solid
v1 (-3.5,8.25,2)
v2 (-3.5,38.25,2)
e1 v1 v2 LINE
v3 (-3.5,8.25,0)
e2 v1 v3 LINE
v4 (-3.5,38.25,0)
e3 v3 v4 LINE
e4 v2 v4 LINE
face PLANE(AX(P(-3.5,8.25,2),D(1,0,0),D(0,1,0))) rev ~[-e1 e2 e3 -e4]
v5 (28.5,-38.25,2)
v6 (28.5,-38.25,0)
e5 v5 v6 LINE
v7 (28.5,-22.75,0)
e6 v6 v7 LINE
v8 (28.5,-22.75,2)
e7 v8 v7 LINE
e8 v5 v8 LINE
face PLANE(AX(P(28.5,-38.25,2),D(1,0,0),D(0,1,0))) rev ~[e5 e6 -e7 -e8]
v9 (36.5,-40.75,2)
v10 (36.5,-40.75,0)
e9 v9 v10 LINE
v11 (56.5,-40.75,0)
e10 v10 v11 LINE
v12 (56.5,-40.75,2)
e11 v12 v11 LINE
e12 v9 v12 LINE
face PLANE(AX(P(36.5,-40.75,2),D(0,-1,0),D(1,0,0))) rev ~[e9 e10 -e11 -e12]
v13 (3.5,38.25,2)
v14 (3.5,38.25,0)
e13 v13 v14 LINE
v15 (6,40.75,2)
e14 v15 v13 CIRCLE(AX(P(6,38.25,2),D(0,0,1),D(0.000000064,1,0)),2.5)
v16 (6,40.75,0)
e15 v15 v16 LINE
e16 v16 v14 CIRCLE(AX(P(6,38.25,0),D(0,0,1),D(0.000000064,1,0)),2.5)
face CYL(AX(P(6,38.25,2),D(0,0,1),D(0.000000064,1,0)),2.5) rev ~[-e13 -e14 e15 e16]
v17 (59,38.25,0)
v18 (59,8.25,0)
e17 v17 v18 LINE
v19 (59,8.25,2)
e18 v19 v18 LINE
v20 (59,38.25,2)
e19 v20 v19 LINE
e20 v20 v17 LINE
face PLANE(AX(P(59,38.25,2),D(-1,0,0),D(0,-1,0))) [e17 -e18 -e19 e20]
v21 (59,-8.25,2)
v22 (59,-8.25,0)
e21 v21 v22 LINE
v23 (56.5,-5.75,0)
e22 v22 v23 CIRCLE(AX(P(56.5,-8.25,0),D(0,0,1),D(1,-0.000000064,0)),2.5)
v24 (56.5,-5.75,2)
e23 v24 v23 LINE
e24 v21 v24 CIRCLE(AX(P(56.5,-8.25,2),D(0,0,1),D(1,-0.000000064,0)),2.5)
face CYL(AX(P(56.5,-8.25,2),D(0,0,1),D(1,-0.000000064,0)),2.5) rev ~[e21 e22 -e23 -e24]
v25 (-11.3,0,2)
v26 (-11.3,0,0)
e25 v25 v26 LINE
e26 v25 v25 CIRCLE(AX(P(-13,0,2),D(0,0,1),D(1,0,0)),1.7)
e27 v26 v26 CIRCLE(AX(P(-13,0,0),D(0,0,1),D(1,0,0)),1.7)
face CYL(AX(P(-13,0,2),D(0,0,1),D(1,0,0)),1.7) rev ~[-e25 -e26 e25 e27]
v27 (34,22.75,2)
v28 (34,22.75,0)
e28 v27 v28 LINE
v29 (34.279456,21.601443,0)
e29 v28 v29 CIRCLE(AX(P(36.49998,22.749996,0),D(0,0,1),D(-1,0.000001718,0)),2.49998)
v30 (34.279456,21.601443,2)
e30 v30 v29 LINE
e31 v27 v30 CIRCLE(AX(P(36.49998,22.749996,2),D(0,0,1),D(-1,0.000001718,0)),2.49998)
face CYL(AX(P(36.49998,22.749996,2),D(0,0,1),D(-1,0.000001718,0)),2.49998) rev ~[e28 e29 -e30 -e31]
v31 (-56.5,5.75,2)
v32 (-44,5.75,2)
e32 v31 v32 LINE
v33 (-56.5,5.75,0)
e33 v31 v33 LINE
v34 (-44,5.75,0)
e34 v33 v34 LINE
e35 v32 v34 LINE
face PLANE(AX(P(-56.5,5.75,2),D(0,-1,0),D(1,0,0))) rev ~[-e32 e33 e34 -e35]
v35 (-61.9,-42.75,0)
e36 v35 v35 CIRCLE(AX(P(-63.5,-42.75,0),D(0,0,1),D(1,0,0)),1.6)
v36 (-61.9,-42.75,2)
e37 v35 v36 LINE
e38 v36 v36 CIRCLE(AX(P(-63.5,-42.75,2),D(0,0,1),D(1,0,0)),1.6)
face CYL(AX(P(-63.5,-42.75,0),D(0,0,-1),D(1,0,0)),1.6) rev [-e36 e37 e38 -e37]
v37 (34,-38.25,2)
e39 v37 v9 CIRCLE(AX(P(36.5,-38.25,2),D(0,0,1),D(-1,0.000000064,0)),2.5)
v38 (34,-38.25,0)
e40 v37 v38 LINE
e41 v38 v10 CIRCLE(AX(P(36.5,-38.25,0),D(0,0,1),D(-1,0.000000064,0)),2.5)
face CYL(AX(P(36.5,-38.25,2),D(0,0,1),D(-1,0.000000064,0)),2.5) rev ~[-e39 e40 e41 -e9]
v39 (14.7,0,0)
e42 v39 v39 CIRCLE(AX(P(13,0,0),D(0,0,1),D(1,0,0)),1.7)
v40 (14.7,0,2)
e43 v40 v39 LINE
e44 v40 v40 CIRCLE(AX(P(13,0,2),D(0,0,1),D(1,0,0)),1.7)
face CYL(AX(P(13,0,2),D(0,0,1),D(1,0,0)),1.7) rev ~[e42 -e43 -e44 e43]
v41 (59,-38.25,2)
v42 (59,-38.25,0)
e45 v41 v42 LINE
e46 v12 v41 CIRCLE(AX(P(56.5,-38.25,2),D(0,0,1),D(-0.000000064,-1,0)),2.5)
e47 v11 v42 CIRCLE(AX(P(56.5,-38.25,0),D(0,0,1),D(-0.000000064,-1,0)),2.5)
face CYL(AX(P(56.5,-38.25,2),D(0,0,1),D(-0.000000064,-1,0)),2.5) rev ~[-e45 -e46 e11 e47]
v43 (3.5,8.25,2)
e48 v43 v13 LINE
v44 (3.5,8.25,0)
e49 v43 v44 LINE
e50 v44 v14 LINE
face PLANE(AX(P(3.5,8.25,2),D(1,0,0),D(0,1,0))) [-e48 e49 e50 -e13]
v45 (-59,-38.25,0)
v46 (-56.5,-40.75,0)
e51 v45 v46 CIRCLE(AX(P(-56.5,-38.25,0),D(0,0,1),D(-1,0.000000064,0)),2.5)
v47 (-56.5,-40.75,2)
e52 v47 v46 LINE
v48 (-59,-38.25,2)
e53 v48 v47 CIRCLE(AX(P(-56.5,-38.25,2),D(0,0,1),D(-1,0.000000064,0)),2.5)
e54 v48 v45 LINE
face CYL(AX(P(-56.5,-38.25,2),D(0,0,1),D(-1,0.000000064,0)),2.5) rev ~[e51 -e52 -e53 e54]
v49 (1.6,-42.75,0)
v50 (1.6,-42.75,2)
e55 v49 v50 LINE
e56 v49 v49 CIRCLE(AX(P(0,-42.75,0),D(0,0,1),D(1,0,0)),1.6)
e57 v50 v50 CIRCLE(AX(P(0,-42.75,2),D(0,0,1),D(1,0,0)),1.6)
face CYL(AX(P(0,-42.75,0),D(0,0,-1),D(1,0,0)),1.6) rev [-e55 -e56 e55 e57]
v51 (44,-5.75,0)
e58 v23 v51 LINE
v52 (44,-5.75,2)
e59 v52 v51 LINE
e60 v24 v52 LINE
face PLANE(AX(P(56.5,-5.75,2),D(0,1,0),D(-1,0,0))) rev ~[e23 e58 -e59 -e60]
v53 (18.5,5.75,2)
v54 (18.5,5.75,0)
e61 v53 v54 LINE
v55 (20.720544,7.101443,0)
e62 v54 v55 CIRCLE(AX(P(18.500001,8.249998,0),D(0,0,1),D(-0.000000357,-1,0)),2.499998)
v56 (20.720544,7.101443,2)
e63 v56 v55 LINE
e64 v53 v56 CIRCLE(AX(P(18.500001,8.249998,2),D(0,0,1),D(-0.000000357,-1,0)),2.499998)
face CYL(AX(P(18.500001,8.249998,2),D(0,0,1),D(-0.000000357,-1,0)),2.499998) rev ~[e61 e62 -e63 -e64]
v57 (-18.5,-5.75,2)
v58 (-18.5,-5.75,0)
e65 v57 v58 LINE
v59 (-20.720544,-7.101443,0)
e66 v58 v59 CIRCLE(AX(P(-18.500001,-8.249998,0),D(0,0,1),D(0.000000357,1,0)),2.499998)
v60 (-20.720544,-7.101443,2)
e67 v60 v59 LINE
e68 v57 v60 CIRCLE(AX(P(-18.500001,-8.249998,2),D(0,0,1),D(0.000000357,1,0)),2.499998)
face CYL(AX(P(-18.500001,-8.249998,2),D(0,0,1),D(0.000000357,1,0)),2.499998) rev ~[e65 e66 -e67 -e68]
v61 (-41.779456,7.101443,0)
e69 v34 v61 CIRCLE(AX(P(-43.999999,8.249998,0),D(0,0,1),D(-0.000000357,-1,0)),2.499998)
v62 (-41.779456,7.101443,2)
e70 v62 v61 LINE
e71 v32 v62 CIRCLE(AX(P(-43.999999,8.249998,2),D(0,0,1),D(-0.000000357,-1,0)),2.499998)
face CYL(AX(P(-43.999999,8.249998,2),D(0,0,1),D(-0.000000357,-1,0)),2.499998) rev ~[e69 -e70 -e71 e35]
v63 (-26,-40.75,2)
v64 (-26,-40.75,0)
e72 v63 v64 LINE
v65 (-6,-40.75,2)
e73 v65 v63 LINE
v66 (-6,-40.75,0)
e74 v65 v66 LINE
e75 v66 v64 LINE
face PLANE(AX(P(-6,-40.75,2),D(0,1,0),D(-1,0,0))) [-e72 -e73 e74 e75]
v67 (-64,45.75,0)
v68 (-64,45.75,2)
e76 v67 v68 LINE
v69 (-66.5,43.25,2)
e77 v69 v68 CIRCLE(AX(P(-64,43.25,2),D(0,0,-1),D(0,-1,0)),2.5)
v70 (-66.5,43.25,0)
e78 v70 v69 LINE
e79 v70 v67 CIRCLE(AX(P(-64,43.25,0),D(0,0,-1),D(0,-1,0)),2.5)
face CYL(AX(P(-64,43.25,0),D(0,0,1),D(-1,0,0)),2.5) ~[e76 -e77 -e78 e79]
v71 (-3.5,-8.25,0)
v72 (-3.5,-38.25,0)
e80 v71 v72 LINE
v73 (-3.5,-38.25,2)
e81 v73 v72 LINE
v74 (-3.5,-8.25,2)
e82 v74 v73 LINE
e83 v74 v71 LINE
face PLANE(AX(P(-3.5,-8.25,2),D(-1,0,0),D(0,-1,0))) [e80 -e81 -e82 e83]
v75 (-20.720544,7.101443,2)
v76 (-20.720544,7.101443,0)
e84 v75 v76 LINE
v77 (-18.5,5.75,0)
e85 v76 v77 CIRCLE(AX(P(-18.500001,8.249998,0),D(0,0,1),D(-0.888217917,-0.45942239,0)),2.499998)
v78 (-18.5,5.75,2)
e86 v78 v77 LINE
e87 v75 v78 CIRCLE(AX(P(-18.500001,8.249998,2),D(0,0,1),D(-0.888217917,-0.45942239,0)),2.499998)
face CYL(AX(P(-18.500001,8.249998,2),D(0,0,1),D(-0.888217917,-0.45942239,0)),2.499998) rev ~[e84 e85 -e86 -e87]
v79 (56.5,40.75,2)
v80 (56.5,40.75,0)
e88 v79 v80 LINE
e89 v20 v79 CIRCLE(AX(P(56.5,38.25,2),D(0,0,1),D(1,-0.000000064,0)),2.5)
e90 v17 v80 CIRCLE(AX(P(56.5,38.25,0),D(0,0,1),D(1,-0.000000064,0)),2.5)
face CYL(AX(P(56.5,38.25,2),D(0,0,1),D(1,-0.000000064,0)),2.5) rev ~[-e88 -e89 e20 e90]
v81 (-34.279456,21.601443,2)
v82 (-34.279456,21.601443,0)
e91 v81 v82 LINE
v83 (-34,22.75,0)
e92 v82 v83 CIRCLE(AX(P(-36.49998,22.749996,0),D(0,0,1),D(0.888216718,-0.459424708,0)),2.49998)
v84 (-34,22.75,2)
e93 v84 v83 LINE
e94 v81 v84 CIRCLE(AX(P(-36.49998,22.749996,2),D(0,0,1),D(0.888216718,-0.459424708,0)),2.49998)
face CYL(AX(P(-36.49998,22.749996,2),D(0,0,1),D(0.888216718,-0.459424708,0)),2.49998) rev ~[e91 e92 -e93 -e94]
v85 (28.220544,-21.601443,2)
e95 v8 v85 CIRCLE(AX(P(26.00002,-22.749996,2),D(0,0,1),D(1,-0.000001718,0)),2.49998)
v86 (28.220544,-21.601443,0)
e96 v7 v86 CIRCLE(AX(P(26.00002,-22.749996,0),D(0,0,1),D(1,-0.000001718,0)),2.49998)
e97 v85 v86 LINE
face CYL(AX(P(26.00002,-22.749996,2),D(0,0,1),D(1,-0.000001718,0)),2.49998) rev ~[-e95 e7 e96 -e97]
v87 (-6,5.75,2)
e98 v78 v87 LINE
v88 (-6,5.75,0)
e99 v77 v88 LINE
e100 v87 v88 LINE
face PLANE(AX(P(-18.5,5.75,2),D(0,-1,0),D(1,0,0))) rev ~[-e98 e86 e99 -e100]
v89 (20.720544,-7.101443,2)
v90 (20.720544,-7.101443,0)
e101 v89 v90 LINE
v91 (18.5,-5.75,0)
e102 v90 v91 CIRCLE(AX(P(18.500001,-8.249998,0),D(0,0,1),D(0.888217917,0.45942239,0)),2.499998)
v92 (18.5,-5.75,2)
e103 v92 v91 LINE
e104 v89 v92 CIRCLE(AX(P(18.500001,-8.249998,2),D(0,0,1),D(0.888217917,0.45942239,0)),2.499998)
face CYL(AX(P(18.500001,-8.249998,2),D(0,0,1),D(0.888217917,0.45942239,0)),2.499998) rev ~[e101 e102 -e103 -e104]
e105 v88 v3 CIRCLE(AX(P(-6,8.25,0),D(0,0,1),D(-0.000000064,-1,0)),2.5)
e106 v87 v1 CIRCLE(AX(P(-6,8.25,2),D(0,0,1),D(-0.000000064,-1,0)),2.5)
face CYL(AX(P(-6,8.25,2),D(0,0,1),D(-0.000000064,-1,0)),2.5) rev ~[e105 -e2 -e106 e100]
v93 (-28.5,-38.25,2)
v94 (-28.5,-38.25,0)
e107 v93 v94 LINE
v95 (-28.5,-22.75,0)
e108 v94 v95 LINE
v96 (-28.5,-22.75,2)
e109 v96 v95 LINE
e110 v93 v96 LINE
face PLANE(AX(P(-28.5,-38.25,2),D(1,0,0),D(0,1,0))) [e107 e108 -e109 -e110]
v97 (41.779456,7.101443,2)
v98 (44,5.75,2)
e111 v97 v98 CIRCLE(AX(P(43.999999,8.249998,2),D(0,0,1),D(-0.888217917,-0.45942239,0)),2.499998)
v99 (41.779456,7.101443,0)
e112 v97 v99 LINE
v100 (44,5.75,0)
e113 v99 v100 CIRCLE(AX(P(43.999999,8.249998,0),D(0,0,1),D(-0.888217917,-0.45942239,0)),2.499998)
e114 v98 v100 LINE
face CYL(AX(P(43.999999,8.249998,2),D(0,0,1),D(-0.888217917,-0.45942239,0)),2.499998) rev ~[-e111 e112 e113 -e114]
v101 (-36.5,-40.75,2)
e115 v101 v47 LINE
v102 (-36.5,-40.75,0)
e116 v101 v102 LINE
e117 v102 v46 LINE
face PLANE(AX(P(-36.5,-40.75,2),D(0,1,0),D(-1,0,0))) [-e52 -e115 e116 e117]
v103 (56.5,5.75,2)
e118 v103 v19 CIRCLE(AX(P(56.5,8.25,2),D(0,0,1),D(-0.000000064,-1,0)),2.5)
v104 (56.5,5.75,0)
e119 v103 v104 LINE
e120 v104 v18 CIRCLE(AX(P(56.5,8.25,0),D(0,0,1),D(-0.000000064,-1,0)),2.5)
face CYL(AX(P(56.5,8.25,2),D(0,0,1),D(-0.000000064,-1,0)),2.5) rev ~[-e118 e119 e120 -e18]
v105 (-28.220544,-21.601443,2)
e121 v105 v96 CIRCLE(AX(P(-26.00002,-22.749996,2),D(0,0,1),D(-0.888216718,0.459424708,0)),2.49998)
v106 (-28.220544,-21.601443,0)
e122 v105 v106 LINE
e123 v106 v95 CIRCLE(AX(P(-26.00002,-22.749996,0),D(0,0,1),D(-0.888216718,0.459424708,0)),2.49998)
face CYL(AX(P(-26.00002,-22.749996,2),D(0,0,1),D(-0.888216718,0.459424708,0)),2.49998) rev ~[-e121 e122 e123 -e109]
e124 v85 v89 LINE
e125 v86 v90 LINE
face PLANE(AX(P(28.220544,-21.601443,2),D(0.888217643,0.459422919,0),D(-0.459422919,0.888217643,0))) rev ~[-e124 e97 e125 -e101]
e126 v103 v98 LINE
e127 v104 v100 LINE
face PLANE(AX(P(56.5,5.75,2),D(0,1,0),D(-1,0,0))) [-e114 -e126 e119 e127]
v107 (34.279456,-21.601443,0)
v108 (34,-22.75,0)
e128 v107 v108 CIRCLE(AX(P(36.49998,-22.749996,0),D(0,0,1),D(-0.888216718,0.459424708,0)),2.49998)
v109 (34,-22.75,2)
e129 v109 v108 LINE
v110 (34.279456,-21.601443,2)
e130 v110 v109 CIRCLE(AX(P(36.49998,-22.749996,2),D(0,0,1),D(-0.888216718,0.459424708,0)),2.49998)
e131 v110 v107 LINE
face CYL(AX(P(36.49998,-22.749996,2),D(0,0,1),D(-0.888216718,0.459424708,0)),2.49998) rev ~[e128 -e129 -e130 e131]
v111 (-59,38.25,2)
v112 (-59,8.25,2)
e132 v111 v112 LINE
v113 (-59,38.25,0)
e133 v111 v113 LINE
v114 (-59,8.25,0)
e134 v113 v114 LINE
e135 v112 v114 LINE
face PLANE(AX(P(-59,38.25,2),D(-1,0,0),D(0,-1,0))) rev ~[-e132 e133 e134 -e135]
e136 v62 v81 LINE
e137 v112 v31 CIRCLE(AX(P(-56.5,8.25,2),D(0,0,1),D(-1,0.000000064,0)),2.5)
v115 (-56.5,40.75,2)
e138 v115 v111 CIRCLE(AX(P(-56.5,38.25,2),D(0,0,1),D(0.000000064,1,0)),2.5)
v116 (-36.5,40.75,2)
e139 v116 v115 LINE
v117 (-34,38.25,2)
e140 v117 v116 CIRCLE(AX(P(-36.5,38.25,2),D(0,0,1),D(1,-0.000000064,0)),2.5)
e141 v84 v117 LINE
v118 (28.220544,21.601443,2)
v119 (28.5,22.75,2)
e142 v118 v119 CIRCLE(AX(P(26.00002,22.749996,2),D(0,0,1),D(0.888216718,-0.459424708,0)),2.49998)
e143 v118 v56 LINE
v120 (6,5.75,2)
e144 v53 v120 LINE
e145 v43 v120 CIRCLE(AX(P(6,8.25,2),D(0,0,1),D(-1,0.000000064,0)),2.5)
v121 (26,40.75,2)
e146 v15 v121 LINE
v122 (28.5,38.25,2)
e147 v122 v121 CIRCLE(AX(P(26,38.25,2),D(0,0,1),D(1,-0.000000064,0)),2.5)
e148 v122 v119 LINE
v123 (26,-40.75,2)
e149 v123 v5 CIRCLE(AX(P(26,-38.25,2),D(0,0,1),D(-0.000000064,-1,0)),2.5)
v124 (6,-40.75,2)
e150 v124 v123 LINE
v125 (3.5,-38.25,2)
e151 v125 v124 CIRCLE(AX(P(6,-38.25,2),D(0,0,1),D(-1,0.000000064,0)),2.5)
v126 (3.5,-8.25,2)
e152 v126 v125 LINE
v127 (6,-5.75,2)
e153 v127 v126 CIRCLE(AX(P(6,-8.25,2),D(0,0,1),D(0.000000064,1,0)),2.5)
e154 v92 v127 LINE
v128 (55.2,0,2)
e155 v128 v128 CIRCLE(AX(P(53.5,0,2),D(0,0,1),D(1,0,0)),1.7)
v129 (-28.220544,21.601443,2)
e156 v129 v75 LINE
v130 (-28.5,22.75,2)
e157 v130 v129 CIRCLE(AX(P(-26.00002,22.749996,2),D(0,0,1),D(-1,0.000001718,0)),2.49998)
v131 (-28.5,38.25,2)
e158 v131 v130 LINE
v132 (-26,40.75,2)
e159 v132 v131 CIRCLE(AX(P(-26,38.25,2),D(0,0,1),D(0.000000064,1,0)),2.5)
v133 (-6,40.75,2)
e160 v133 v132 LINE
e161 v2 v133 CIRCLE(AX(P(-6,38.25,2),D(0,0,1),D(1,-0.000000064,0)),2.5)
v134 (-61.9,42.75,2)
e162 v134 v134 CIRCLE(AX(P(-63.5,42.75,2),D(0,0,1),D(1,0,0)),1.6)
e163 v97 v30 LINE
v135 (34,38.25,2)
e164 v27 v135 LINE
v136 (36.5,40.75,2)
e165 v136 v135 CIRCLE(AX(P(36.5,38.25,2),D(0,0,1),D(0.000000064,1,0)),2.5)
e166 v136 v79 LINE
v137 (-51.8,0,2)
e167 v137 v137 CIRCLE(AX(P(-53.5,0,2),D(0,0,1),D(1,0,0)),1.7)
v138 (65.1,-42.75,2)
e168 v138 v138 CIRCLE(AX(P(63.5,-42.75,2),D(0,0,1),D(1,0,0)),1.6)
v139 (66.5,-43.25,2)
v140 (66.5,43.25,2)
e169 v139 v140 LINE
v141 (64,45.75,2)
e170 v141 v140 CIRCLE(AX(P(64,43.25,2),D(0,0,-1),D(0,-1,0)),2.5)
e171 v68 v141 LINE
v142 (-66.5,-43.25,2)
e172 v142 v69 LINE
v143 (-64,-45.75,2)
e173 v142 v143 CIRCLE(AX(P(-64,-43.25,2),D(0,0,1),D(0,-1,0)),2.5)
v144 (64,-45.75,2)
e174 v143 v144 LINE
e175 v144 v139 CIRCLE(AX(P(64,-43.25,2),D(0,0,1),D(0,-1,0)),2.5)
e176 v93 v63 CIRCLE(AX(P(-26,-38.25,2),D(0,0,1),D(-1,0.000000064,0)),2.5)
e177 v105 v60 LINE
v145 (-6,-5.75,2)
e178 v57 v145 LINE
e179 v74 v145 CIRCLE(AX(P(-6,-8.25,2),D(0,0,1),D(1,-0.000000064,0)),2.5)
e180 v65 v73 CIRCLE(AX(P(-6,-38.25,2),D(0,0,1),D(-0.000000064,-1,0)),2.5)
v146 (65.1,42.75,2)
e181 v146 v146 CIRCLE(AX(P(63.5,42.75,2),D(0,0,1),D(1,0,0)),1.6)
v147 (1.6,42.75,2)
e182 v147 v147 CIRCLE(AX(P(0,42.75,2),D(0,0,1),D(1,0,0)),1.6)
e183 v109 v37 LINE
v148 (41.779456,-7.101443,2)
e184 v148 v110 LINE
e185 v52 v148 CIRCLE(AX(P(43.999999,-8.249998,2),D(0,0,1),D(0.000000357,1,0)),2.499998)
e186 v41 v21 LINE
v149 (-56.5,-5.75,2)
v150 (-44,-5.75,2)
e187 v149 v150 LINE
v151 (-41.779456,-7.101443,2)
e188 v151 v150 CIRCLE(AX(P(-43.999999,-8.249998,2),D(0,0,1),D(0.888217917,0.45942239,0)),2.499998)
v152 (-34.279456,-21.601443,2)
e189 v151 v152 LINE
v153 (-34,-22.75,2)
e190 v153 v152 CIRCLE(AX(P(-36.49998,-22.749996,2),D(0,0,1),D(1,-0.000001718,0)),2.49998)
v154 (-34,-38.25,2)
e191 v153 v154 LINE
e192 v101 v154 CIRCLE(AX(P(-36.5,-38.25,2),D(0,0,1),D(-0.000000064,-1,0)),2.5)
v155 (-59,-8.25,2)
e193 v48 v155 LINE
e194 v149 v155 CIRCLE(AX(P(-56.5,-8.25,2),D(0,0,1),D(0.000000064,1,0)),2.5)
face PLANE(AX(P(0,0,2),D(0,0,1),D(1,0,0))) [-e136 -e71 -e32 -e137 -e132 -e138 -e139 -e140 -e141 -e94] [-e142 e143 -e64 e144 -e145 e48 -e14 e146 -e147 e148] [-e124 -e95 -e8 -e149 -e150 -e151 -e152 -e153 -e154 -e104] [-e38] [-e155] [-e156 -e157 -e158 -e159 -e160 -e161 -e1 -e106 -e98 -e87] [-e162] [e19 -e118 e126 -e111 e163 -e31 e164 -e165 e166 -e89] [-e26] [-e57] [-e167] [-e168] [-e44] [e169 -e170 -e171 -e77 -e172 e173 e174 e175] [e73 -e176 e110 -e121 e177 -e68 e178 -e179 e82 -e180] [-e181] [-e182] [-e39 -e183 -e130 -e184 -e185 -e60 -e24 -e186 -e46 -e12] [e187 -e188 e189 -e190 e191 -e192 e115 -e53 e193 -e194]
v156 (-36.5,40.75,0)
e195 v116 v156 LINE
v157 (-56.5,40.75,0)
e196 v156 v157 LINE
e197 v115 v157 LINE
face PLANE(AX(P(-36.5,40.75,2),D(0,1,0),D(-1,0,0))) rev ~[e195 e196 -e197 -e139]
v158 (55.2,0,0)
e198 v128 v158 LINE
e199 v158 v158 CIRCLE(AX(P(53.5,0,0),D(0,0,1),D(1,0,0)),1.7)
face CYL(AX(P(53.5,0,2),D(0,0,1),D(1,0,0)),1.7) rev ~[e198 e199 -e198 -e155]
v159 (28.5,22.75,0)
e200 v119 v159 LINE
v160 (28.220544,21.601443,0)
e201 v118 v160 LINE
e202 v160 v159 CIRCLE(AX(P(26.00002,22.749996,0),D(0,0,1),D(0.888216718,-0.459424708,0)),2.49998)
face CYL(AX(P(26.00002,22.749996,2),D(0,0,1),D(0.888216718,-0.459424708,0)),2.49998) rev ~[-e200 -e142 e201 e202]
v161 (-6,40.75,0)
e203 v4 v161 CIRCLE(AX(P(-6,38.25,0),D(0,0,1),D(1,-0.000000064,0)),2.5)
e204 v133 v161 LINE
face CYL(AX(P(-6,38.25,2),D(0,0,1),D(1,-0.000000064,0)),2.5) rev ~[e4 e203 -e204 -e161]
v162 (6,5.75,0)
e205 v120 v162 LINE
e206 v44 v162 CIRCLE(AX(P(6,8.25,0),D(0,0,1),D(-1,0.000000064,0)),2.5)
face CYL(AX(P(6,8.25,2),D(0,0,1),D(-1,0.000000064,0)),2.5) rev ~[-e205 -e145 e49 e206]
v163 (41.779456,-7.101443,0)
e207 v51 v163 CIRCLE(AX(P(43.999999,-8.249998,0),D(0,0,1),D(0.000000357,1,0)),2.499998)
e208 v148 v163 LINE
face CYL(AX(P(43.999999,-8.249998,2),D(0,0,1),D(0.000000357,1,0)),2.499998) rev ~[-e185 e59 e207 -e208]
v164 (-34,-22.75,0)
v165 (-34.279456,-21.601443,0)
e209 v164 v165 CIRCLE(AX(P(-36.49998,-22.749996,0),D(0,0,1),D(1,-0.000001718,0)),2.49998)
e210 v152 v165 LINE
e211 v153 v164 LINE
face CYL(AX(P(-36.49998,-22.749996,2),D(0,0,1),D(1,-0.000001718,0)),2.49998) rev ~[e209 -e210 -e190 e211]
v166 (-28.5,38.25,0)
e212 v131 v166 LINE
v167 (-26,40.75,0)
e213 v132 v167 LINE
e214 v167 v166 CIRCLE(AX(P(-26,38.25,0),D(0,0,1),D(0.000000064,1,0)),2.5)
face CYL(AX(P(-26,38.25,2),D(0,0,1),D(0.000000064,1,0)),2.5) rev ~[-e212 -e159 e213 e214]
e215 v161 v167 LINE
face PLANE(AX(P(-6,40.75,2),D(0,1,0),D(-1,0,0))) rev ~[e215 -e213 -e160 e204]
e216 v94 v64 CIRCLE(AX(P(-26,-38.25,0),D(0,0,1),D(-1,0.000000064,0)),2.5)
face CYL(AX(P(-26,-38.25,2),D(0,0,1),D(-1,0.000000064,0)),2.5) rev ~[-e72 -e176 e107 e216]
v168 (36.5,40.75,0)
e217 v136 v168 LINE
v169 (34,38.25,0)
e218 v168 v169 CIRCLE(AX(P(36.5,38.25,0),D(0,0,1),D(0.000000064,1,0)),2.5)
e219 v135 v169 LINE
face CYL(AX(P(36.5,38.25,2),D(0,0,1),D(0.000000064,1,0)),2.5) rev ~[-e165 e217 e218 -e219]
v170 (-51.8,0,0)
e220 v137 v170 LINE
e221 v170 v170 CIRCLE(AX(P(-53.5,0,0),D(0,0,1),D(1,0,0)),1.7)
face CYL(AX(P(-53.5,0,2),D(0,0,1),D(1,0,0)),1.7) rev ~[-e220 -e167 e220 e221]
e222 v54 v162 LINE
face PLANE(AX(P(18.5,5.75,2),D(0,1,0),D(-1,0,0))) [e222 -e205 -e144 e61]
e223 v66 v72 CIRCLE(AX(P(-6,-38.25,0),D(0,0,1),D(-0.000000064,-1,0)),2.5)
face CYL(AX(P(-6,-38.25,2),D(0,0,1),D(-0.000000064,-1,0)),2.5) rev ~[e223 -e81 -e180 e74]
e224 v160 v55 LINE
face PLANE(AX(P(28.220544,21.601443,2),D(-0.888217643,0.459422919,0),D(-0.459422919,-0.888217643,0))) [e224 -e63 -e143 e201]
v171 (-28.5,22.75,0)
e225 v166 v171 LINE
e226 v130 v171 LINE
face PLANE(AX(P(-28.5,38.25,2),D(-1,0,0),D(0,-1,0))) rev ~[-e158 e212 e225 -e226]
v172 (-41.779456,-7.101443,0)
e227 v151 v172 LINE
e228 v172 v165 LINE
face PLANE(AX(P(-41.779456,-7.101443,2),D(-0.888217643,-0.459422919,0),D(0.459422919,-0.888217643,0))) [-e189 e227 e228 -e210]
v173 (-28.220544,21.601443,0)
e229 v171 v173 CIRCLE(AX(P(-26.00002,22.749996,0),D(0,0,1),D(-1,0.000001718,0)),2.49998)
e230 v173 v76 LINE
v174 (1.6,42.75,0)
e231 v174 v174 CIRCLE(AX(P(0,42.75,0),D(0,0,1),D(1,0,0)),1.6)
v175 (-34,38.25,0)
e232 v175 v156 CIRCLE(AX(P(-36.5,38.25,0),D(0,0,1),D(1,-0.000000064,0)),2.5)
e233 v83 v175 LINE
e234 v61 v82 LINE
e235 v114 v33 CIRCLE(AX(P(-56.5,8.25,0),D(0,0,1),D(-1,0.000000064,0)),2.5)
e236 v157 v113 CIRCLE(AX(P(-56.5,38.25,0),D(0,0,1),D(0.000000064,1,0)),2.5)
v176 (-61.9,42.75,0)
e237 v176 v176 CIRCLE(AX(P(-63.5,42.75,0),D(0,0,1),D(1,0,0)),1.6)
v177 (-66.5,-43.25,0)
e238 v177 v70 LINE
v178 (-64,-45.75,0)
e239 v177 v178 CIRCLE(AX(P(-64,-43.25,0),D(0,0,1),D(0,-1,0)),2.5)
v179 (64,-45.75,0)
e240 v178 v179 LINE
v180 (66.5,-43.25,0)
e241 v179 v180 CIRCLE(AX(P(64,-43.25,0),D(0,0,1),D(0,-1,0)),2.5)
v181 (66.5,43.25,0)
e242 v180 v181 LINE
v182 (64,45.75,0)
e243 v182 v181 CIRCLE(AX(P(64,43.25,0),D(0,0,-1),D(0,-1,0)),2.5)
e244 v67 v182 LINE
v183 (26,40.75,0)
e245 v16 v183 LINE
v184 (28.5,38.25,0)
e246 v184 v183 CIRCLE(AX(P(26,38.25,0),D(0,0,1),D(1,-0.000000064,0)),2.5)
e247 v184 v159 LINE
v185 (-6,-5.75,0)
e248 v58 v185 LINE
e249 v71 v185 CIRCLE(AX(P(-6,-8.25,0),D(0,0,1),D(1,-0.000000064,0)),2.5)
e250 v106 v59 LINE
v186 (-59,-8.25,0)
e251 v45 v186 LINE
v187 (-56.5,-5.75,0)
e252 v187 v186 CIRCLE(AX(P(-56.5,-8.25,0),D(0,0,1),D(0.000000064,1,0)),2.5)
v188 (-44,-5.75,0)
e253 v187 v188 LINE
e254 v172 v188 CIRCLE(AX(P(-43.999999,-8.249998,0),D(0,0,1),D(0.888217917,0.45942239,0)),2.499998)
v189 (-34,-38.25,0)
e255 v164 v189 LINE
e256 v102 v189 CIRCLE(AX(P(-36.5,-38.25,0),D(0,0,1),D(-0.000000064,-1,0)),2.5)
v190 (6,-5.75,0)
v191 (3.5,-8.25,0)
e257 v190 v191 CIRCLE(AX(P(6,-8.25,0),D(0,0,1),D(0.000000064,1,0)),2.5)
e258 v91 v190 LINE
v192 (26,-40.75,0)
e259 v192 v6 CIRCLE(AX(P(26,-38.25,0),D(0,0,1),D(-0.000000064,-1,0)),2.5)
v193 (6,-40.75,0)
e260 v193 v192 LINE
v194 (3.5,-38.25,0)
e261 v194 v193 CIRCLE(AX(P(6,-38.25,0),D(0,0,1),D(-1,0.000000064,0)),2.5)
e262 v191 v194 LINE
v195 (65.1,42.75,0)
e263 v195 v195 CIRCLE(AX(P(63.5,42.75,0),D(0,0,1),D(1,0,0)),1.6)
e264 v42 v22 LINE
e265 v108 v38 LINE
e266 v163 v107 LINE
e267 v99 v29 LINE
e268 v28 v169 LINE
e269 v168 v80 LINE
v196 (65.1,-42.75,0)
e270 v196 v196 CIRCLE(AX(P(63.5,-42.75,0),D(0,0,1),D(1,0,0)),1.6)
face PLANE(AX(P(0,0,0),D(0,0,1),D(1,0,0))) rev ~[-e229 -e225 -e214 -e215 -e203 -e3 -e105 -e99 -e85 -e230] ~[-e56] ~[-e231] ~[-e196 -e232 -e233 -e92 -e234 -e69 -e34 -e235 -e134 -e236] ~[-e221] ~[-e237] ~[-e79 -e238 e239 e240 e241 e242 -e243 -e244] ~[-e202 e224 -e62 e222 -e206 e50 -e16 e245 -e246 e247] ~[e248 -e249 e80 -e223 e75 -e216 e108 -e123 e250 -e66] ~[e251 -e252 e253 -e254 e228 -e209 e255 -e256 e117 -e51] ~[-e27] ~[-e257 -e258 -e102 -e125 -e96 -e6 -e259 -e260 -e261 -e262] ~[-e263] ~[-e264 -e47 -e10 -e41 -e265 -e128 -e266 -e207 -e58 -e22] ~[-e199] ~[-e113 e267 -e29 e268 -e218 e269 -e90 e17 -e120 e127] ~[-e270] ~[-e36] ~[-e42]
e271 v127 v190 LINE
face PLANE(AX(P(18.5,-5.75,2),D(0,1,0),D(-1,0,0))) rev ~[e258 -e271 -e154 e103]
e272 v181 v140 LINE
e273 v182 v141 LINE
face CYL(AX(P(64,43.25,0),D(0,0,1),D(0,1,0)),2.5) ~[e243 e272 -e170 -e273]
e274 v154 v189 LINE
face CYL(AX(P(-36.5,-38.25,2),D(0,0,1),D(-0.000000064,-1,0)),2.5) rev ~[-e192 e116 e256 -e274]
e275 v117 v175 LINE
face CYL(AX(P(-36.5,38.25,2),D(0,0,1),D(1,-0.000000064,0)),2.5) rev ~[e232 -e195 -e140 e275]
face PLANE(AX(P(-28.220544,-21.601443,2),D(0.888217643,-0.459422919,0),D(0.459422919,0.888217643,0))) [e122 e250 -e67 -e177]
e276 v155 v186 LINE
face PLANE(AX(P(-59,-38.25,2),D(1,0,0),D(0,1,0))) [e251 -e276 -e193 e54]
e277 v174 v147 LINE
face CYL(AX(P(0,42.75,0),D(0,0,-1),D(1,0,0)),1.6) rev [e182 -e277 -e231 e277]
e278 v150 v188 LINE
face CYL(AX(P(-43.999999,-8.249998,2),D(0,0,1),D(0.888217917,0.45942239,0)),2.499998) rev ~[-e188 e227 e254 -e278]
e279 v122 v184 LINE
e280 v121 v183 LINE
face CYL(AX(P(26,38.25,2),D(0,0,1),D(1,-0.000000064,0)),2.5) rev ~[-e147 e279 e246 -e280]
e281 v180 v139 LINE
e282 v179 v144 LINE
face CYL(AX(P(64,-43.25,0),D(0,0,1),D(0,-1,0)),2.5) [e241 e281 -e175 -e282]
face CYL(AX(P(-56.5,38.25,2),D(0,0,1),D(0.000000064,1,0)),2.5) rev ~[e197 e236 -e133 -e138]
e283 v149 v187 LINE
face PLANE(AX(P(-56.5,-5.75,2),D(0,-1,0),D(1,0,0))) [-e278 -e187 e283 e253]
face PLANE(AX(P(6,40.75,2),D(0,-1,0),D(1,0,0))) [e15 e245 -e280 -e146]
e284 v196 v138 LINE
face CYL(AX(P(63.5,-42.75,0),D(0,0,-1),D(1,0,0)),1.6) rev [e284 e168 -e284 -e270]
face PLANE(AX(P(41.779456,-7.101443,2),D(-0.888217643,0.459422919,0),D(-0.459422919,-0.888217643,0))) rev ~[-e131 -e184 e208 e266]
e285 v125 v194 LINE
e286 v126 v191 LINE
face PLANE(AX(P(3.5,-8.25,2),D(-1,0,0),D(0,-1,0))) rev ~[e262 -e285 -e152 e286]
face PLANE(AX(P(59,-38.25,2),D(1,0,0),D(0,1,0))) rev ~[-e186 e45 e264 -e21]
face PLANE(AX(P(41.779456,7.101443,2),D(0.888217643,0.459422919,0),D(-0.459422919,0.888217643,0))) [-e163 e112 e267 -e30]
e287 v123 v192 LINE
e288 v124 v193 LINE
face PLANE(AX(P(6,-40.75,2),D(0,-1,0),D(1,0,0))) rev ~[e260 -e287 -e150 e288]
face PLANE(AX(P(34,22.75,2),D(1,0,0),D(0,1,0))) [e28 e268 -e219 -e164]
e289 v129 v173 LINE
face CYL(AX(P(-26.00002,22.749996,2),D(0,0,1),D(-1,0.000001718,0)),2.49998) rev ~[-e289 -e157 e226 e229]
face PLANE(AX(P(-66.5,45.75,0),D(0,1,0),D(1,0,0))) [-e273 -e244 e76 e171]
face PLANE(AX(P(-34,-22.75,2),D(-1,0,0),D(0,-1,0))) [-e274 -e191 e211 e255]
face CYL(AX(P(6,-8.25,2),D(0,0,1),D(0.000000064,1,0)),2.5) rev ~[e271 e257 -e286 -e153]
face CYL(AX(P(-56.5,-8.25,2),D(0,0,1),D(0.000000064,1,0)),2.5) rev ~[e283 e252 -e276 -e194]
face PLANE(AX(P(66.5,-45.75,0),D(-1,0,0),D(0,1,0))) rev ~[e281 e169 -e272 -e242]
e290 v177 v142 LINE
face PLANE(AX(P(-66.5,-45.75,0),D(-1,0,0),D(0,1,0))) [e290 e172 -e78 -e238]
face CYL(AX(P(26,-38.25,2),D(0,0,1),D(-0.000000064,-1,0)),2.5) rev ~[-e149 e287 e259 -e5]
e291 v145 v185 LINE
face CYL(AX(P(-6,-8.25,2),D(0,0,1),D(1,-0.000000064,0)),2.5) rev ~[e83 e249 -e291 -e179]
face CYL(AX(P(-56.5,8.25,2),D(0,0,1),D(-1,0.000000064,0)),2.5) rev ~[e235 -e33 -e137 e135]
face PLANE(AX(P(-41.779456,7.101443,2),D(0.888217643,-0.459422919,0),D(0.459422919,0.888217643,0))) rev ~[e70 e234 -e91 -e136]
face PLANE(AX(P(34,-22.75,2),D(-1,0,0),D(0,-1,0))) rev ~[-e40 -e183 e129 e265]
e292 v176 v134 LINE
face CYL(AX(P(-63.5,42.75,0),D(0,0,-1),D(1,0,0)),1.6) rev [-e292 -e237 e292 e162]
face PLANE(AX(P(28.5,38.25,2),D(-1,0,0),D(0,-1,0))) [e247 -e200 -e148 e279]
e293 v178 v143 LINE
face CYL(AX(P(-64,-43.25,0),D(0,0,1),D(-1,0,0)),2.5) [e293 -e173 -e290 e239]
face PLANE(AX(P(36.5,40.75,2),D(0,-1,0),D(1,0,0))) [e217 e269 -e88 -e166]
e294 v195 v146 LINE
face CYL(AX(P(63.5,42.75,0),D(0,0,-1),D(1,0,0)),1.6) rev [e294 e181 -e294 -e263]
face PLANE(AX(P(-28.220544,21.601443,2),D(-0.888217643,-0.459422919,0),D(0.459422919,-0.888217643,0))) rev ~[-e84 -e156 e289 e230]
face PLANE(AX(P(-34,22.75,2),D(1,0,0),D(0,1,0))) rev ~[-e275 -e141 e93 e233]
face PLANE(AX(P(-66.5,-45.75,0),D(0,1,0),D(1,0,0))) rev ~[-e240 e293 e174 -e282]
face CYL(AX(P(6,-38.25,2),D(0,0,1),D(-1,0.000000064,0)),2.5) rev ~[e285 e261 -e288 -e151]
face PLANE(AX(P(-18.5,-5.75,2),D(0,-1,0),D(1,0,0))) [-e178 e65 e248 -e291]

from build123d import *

# Parameters (mm, degrees)
SKETCH_W        = 133
SKETCH_H        = 91.5
SKETCH_R        = 1.6
PAD_DEPTH       = 2
SKETCH001_R     = 1.7
POCKET_DEPTH    = 2.001
POCKET001_DEPTH = 2.001
FILLET_R        = 2.5


with BuildPart() as part:
    # Sketch → Pad (new body)
    with BuildSketch(Plane.XY):
        Rectangle(SKETCH_W, SKETCH_H)
        with Locations((-63.5, 42.75)):
            Circle(SKETCH_R, mode=Mode.SUBTRACT)
        with Locations((0, 42.75)):
            Circle(SKETCH_R, mode=Mode.SUBTRACT)
        with Locations((63.5, 42.75)):
            Circle(SKETCH_R, mode=Mode.SUBTRACT)
        with Locations((0, -42.75)):
            Circle(SKETCH_R, mode=Mode.SUBTRACT)
        with Locations((63.5, -42.75)):
            Circle(SKETCH_R, mode=Mode.SUBTRACT)
        with Locations((-63.5, -42.75)):
            Circle(SKETCH_R, mode=Mode.SUBTRACT)
    extrude(amount=PAD_DEPTH)

    # Sketch001 (on Face12 of Pad) → Pocket (cut, through all)
    with BuildSketch(Plane.XY.offset(2)):
        with Locations((13, 0)):
            Circle(SKETCH001_R)
        with Locations((53.5, 0)):
            Circle(SKETCH001_R)
        with Locations((-13, 0)):
            Circle(SKETCH001_R)
        with Locations((-53.5, 0)):
            Circle(SKETCH001_R)
    extrude(amount=-POCKET_DEPTH, mode=Mode.SUBTRACT)

    # Sketch002 (on Face5 of Pocket) → Pocket001 (cut, through all)
    with BuildSketch(Plane.XY.offset(2)):
        with BuildLine():
            Line((-59, 38.25), (-59, 8.25))
            ThreePointArc((-59, 8.25), (-58.267767, 6.482233), (-56.5, 5.75))
            Line((-56.5, 5.75), (-44, 5.75))
            ThreePointArc((-44, 5.75), (-42.700268, 6.114421), (-41.779456, 7.101443))
            Line((-41.779456, 7.101443), (-34.279456, 21.601443))
            ThreePointArc((-34.279456, 21.601443), (-34.070868, 22.158967), (-34, 22.75))
            Line((-34, 22.75), (-34, 38.25))
            ThreePointArc((-34, 38.25), (-34.732233, 40.017767), (-36.5, 40.75))
            Line((-36.5, 40.75), (-56.5, 40.75))
            ThreePointArc((-56.5, 40.75), (-58.267767, 40.017767), (-59, 38.25))
        make_face()
        with BuildLine():
            Line((-28.5, 38.25), (-28.5, 22.75))
            ThreePointArc((-28.5, 22.75), (-28.429132, 22.158967), (-28.220544, 21.601443))
            Line((-28.220544, 21.601443), (-20.720544, 7.101443))
            ThreePointArc((-20.720544, 7.101443), (-19.799732, 6.114421), (-18.5, 5.75))
            Line((-18.5, 5.75), (-6, 5.75))
            ThreePointArc((-6, 5.75), (-4.232233, 6.482233), (-3.5, 8.25))
            Line((-3.5, 8.25), (-3.5, 38.25))
            ThreePointArc((-3.5, 38.25), (-4.232233, 40.017767), (-6, 40.75))
            Line((-6, 40.75), (-26, 40.75))
            ThreePointArc((-26, 40.75), (-27.767767, 40.017767), (-28.5, 38.25))
        make_face()
        with BuildLine():
            Line((59, -38.25), (59, -8.25))
            ThreePointArc((59, -8.25), (58.267767, -6.482233), (56.5, -5.75))
            Line((56.5, -5.75), (44, -5.75))
            ThreePointArc((44, -5.75), (42.700268, -6.114421), (41.779456, -7.101443))
            Line((41.779456, -7.101443), (34.279456, -21.601443))
            ThreePointArc((34.279456, -21.601443), (34.070868, -22.158967), (34, -22.75))
            Line((34, -22.75), (34, -38.25))
            ThreePointArc((34, -38.25), (34.732233, -40.017767), (36.5, -40.75))
            Line((36.5, -40.75), (56.5, -40.75))
            ThreePointArc((56.5, -40.75), (58.267767, -40.017767), (59, -38.25))
        make_face()
        with BuildLine():
            Line((28.5, -38.25), (28.5, -22.75))
            ThreePointArc((28.5, -22.75), (28.429132, -22.158967), (28.220544, -21.601443))
            Line((28.220544, -21.601443), (20.720544, -7.101443))
            ThreePointArc((20.720544, -7.101443), (19.799732, -6.114421), (18.5, -5.75))
            Line((18.5, -5.75), (6, -5.75))
            ThreePointArc((6, -5.75), (4.232233, -6.482233), (3.5, -8.25))
            Line((3.5, -8.25), (3.5, -38.25))
            ThreePointArc((3.5, -38.25), (4.232233, -40.017767), (6, -40.75))
            Line((6, -40.75), (26, -40.75))
            ThreePointArc((26, -40.75), (27.767767, -40.017767), (28.5, -38.25))
        make_face()
        with BuildLine():
            Line((59, 38.25), (59, 8.25))
            ThreePointArc((56.5, 5.75), (58.267767, 6.482233), (59, 8.25))
            Line((56.5, 5.75), (44, 5.75))
            ThreePointArc((41.779456, 7.101443), (42.700268, 6.114421), (44, 5.75))
            Line((41.779456, 7.101443), (34.279456, 21.601443))
            ThreePointArc((34, 22.75), (34.070868, 22.158967), (34.279456, 21.601443))
            Line((34, 22.75), (34, 38.25))
            ThreePointArc((36.5, 40.75), (34.732233, 40.017767), (34, 38.25))
            Line((36.5, 40.75), (56.5, 40.75))
            ThreePointArc((59, 38.25), (58.267767, 40.017767), (56.5, 40.75))
        make_face()
        with BuildLine():
            Line((28.5, 38.25), (28.5, 22.75))
            ThreePointArc((28.220544, 21.601443), (28.429132, 22.158967), (28.5, 22.75))
            Line((28.220544, 21.601443), (20.720544, 7.101443))
            ThreePointArc((18.5, 5.75), (19.799732, 6.114421), (20.720544, 7.101443))
            Line((18.5, 5.75), (6, 5.75))
            ThreePointArc((3.5, 8.25), (4.232233, 6.482233), (6, 5.75))
            Line((3.5, 8.25), (3.5, 38.25))
            ThreePointArc((6, 40.75), (4.232233, 40.017767), (3.5, 38.25))
            Line((6, 40.75), (26, 40.75))
            ThreePointArc((28.5, 38.25), (27.767767, 40.017767), (26, 40.75))
        make_face()
        with BuildLine():
            Line((-59, -38.25), (-59, -8.25))
            ThreePointArc((-56.5, -5.75), (-58.267767, -6.482233), (-59, -8.25))
            Line((-56.5, -5.75), (-44, -5.75))
            ThreePointArc((-41.779456, -7.101443), (-42.700268, -6.114421), (-44, -5.75))
            Line((-41.779456, -7.101443), (-34.279456, -21.601443))
            ThreePointArc((-34, -22.75), (-34.070868, -22.158967), (-34.279456, -21.601443))
            Line((-34, -22.75), (-34, -38.25))
            ThreePointArc((-36.5, -40.75), (-34.732233, -40.017767), (-34, -38.25))
            Line((-36.5, -40.75), (-56.5, -40.75))
            ThreePointArc((-59, -38.25), (-58.267767, -40.017767), (-56.5, -40.75))
        make_face()
        with BuildLine():
            Line((-28.5, -38.25), (-28.5, -22.75))
            ThreePointArc((-28.220544, -21.601443), (-28.429132, -22.158967), (-28.5, -22.75))
            Line((-28.220544, -21.601443), (-20.720544, -7.101443))
            ThreePointArc((-18.5, -5.75), (-19.799732, -6.114421), (-20.720544, -7.101443))
            Line((-18.5, -5.75), (-6, -5.75))
            ThreePointArc((-3.5, -8.25), (-4.232233, -6.482233), (-6, -5.75))
            Line((-3.5, -8.25), (-3.5, -38.25))
            ThreePointArc((-6, -40.75), (-4.232233, -40.017767), (-3.5, -38.25))
            Line((-6, -40.75), (-26, -40.75))
            ThreePointArc((-28.5, -38.25), (-27.767767, -40.017767), (-26, -40.75))
        make_face()
    extrude(amount=-POCKET001_DEPTH, mode=Mode.SUBTRACT)

    # Fillet
    fillet_edges = [part.edges().sort_by_distance(p)[0] for p in [
        (-66.5, -45.75, 1),
        (66.5, -45.75, 1),
        (66.5, 45.75, 1),
        (-66.5, 45.75, 1),
    ]]
    fillet(fillet_edges, radius=FILLET_R)


solid = part.part
